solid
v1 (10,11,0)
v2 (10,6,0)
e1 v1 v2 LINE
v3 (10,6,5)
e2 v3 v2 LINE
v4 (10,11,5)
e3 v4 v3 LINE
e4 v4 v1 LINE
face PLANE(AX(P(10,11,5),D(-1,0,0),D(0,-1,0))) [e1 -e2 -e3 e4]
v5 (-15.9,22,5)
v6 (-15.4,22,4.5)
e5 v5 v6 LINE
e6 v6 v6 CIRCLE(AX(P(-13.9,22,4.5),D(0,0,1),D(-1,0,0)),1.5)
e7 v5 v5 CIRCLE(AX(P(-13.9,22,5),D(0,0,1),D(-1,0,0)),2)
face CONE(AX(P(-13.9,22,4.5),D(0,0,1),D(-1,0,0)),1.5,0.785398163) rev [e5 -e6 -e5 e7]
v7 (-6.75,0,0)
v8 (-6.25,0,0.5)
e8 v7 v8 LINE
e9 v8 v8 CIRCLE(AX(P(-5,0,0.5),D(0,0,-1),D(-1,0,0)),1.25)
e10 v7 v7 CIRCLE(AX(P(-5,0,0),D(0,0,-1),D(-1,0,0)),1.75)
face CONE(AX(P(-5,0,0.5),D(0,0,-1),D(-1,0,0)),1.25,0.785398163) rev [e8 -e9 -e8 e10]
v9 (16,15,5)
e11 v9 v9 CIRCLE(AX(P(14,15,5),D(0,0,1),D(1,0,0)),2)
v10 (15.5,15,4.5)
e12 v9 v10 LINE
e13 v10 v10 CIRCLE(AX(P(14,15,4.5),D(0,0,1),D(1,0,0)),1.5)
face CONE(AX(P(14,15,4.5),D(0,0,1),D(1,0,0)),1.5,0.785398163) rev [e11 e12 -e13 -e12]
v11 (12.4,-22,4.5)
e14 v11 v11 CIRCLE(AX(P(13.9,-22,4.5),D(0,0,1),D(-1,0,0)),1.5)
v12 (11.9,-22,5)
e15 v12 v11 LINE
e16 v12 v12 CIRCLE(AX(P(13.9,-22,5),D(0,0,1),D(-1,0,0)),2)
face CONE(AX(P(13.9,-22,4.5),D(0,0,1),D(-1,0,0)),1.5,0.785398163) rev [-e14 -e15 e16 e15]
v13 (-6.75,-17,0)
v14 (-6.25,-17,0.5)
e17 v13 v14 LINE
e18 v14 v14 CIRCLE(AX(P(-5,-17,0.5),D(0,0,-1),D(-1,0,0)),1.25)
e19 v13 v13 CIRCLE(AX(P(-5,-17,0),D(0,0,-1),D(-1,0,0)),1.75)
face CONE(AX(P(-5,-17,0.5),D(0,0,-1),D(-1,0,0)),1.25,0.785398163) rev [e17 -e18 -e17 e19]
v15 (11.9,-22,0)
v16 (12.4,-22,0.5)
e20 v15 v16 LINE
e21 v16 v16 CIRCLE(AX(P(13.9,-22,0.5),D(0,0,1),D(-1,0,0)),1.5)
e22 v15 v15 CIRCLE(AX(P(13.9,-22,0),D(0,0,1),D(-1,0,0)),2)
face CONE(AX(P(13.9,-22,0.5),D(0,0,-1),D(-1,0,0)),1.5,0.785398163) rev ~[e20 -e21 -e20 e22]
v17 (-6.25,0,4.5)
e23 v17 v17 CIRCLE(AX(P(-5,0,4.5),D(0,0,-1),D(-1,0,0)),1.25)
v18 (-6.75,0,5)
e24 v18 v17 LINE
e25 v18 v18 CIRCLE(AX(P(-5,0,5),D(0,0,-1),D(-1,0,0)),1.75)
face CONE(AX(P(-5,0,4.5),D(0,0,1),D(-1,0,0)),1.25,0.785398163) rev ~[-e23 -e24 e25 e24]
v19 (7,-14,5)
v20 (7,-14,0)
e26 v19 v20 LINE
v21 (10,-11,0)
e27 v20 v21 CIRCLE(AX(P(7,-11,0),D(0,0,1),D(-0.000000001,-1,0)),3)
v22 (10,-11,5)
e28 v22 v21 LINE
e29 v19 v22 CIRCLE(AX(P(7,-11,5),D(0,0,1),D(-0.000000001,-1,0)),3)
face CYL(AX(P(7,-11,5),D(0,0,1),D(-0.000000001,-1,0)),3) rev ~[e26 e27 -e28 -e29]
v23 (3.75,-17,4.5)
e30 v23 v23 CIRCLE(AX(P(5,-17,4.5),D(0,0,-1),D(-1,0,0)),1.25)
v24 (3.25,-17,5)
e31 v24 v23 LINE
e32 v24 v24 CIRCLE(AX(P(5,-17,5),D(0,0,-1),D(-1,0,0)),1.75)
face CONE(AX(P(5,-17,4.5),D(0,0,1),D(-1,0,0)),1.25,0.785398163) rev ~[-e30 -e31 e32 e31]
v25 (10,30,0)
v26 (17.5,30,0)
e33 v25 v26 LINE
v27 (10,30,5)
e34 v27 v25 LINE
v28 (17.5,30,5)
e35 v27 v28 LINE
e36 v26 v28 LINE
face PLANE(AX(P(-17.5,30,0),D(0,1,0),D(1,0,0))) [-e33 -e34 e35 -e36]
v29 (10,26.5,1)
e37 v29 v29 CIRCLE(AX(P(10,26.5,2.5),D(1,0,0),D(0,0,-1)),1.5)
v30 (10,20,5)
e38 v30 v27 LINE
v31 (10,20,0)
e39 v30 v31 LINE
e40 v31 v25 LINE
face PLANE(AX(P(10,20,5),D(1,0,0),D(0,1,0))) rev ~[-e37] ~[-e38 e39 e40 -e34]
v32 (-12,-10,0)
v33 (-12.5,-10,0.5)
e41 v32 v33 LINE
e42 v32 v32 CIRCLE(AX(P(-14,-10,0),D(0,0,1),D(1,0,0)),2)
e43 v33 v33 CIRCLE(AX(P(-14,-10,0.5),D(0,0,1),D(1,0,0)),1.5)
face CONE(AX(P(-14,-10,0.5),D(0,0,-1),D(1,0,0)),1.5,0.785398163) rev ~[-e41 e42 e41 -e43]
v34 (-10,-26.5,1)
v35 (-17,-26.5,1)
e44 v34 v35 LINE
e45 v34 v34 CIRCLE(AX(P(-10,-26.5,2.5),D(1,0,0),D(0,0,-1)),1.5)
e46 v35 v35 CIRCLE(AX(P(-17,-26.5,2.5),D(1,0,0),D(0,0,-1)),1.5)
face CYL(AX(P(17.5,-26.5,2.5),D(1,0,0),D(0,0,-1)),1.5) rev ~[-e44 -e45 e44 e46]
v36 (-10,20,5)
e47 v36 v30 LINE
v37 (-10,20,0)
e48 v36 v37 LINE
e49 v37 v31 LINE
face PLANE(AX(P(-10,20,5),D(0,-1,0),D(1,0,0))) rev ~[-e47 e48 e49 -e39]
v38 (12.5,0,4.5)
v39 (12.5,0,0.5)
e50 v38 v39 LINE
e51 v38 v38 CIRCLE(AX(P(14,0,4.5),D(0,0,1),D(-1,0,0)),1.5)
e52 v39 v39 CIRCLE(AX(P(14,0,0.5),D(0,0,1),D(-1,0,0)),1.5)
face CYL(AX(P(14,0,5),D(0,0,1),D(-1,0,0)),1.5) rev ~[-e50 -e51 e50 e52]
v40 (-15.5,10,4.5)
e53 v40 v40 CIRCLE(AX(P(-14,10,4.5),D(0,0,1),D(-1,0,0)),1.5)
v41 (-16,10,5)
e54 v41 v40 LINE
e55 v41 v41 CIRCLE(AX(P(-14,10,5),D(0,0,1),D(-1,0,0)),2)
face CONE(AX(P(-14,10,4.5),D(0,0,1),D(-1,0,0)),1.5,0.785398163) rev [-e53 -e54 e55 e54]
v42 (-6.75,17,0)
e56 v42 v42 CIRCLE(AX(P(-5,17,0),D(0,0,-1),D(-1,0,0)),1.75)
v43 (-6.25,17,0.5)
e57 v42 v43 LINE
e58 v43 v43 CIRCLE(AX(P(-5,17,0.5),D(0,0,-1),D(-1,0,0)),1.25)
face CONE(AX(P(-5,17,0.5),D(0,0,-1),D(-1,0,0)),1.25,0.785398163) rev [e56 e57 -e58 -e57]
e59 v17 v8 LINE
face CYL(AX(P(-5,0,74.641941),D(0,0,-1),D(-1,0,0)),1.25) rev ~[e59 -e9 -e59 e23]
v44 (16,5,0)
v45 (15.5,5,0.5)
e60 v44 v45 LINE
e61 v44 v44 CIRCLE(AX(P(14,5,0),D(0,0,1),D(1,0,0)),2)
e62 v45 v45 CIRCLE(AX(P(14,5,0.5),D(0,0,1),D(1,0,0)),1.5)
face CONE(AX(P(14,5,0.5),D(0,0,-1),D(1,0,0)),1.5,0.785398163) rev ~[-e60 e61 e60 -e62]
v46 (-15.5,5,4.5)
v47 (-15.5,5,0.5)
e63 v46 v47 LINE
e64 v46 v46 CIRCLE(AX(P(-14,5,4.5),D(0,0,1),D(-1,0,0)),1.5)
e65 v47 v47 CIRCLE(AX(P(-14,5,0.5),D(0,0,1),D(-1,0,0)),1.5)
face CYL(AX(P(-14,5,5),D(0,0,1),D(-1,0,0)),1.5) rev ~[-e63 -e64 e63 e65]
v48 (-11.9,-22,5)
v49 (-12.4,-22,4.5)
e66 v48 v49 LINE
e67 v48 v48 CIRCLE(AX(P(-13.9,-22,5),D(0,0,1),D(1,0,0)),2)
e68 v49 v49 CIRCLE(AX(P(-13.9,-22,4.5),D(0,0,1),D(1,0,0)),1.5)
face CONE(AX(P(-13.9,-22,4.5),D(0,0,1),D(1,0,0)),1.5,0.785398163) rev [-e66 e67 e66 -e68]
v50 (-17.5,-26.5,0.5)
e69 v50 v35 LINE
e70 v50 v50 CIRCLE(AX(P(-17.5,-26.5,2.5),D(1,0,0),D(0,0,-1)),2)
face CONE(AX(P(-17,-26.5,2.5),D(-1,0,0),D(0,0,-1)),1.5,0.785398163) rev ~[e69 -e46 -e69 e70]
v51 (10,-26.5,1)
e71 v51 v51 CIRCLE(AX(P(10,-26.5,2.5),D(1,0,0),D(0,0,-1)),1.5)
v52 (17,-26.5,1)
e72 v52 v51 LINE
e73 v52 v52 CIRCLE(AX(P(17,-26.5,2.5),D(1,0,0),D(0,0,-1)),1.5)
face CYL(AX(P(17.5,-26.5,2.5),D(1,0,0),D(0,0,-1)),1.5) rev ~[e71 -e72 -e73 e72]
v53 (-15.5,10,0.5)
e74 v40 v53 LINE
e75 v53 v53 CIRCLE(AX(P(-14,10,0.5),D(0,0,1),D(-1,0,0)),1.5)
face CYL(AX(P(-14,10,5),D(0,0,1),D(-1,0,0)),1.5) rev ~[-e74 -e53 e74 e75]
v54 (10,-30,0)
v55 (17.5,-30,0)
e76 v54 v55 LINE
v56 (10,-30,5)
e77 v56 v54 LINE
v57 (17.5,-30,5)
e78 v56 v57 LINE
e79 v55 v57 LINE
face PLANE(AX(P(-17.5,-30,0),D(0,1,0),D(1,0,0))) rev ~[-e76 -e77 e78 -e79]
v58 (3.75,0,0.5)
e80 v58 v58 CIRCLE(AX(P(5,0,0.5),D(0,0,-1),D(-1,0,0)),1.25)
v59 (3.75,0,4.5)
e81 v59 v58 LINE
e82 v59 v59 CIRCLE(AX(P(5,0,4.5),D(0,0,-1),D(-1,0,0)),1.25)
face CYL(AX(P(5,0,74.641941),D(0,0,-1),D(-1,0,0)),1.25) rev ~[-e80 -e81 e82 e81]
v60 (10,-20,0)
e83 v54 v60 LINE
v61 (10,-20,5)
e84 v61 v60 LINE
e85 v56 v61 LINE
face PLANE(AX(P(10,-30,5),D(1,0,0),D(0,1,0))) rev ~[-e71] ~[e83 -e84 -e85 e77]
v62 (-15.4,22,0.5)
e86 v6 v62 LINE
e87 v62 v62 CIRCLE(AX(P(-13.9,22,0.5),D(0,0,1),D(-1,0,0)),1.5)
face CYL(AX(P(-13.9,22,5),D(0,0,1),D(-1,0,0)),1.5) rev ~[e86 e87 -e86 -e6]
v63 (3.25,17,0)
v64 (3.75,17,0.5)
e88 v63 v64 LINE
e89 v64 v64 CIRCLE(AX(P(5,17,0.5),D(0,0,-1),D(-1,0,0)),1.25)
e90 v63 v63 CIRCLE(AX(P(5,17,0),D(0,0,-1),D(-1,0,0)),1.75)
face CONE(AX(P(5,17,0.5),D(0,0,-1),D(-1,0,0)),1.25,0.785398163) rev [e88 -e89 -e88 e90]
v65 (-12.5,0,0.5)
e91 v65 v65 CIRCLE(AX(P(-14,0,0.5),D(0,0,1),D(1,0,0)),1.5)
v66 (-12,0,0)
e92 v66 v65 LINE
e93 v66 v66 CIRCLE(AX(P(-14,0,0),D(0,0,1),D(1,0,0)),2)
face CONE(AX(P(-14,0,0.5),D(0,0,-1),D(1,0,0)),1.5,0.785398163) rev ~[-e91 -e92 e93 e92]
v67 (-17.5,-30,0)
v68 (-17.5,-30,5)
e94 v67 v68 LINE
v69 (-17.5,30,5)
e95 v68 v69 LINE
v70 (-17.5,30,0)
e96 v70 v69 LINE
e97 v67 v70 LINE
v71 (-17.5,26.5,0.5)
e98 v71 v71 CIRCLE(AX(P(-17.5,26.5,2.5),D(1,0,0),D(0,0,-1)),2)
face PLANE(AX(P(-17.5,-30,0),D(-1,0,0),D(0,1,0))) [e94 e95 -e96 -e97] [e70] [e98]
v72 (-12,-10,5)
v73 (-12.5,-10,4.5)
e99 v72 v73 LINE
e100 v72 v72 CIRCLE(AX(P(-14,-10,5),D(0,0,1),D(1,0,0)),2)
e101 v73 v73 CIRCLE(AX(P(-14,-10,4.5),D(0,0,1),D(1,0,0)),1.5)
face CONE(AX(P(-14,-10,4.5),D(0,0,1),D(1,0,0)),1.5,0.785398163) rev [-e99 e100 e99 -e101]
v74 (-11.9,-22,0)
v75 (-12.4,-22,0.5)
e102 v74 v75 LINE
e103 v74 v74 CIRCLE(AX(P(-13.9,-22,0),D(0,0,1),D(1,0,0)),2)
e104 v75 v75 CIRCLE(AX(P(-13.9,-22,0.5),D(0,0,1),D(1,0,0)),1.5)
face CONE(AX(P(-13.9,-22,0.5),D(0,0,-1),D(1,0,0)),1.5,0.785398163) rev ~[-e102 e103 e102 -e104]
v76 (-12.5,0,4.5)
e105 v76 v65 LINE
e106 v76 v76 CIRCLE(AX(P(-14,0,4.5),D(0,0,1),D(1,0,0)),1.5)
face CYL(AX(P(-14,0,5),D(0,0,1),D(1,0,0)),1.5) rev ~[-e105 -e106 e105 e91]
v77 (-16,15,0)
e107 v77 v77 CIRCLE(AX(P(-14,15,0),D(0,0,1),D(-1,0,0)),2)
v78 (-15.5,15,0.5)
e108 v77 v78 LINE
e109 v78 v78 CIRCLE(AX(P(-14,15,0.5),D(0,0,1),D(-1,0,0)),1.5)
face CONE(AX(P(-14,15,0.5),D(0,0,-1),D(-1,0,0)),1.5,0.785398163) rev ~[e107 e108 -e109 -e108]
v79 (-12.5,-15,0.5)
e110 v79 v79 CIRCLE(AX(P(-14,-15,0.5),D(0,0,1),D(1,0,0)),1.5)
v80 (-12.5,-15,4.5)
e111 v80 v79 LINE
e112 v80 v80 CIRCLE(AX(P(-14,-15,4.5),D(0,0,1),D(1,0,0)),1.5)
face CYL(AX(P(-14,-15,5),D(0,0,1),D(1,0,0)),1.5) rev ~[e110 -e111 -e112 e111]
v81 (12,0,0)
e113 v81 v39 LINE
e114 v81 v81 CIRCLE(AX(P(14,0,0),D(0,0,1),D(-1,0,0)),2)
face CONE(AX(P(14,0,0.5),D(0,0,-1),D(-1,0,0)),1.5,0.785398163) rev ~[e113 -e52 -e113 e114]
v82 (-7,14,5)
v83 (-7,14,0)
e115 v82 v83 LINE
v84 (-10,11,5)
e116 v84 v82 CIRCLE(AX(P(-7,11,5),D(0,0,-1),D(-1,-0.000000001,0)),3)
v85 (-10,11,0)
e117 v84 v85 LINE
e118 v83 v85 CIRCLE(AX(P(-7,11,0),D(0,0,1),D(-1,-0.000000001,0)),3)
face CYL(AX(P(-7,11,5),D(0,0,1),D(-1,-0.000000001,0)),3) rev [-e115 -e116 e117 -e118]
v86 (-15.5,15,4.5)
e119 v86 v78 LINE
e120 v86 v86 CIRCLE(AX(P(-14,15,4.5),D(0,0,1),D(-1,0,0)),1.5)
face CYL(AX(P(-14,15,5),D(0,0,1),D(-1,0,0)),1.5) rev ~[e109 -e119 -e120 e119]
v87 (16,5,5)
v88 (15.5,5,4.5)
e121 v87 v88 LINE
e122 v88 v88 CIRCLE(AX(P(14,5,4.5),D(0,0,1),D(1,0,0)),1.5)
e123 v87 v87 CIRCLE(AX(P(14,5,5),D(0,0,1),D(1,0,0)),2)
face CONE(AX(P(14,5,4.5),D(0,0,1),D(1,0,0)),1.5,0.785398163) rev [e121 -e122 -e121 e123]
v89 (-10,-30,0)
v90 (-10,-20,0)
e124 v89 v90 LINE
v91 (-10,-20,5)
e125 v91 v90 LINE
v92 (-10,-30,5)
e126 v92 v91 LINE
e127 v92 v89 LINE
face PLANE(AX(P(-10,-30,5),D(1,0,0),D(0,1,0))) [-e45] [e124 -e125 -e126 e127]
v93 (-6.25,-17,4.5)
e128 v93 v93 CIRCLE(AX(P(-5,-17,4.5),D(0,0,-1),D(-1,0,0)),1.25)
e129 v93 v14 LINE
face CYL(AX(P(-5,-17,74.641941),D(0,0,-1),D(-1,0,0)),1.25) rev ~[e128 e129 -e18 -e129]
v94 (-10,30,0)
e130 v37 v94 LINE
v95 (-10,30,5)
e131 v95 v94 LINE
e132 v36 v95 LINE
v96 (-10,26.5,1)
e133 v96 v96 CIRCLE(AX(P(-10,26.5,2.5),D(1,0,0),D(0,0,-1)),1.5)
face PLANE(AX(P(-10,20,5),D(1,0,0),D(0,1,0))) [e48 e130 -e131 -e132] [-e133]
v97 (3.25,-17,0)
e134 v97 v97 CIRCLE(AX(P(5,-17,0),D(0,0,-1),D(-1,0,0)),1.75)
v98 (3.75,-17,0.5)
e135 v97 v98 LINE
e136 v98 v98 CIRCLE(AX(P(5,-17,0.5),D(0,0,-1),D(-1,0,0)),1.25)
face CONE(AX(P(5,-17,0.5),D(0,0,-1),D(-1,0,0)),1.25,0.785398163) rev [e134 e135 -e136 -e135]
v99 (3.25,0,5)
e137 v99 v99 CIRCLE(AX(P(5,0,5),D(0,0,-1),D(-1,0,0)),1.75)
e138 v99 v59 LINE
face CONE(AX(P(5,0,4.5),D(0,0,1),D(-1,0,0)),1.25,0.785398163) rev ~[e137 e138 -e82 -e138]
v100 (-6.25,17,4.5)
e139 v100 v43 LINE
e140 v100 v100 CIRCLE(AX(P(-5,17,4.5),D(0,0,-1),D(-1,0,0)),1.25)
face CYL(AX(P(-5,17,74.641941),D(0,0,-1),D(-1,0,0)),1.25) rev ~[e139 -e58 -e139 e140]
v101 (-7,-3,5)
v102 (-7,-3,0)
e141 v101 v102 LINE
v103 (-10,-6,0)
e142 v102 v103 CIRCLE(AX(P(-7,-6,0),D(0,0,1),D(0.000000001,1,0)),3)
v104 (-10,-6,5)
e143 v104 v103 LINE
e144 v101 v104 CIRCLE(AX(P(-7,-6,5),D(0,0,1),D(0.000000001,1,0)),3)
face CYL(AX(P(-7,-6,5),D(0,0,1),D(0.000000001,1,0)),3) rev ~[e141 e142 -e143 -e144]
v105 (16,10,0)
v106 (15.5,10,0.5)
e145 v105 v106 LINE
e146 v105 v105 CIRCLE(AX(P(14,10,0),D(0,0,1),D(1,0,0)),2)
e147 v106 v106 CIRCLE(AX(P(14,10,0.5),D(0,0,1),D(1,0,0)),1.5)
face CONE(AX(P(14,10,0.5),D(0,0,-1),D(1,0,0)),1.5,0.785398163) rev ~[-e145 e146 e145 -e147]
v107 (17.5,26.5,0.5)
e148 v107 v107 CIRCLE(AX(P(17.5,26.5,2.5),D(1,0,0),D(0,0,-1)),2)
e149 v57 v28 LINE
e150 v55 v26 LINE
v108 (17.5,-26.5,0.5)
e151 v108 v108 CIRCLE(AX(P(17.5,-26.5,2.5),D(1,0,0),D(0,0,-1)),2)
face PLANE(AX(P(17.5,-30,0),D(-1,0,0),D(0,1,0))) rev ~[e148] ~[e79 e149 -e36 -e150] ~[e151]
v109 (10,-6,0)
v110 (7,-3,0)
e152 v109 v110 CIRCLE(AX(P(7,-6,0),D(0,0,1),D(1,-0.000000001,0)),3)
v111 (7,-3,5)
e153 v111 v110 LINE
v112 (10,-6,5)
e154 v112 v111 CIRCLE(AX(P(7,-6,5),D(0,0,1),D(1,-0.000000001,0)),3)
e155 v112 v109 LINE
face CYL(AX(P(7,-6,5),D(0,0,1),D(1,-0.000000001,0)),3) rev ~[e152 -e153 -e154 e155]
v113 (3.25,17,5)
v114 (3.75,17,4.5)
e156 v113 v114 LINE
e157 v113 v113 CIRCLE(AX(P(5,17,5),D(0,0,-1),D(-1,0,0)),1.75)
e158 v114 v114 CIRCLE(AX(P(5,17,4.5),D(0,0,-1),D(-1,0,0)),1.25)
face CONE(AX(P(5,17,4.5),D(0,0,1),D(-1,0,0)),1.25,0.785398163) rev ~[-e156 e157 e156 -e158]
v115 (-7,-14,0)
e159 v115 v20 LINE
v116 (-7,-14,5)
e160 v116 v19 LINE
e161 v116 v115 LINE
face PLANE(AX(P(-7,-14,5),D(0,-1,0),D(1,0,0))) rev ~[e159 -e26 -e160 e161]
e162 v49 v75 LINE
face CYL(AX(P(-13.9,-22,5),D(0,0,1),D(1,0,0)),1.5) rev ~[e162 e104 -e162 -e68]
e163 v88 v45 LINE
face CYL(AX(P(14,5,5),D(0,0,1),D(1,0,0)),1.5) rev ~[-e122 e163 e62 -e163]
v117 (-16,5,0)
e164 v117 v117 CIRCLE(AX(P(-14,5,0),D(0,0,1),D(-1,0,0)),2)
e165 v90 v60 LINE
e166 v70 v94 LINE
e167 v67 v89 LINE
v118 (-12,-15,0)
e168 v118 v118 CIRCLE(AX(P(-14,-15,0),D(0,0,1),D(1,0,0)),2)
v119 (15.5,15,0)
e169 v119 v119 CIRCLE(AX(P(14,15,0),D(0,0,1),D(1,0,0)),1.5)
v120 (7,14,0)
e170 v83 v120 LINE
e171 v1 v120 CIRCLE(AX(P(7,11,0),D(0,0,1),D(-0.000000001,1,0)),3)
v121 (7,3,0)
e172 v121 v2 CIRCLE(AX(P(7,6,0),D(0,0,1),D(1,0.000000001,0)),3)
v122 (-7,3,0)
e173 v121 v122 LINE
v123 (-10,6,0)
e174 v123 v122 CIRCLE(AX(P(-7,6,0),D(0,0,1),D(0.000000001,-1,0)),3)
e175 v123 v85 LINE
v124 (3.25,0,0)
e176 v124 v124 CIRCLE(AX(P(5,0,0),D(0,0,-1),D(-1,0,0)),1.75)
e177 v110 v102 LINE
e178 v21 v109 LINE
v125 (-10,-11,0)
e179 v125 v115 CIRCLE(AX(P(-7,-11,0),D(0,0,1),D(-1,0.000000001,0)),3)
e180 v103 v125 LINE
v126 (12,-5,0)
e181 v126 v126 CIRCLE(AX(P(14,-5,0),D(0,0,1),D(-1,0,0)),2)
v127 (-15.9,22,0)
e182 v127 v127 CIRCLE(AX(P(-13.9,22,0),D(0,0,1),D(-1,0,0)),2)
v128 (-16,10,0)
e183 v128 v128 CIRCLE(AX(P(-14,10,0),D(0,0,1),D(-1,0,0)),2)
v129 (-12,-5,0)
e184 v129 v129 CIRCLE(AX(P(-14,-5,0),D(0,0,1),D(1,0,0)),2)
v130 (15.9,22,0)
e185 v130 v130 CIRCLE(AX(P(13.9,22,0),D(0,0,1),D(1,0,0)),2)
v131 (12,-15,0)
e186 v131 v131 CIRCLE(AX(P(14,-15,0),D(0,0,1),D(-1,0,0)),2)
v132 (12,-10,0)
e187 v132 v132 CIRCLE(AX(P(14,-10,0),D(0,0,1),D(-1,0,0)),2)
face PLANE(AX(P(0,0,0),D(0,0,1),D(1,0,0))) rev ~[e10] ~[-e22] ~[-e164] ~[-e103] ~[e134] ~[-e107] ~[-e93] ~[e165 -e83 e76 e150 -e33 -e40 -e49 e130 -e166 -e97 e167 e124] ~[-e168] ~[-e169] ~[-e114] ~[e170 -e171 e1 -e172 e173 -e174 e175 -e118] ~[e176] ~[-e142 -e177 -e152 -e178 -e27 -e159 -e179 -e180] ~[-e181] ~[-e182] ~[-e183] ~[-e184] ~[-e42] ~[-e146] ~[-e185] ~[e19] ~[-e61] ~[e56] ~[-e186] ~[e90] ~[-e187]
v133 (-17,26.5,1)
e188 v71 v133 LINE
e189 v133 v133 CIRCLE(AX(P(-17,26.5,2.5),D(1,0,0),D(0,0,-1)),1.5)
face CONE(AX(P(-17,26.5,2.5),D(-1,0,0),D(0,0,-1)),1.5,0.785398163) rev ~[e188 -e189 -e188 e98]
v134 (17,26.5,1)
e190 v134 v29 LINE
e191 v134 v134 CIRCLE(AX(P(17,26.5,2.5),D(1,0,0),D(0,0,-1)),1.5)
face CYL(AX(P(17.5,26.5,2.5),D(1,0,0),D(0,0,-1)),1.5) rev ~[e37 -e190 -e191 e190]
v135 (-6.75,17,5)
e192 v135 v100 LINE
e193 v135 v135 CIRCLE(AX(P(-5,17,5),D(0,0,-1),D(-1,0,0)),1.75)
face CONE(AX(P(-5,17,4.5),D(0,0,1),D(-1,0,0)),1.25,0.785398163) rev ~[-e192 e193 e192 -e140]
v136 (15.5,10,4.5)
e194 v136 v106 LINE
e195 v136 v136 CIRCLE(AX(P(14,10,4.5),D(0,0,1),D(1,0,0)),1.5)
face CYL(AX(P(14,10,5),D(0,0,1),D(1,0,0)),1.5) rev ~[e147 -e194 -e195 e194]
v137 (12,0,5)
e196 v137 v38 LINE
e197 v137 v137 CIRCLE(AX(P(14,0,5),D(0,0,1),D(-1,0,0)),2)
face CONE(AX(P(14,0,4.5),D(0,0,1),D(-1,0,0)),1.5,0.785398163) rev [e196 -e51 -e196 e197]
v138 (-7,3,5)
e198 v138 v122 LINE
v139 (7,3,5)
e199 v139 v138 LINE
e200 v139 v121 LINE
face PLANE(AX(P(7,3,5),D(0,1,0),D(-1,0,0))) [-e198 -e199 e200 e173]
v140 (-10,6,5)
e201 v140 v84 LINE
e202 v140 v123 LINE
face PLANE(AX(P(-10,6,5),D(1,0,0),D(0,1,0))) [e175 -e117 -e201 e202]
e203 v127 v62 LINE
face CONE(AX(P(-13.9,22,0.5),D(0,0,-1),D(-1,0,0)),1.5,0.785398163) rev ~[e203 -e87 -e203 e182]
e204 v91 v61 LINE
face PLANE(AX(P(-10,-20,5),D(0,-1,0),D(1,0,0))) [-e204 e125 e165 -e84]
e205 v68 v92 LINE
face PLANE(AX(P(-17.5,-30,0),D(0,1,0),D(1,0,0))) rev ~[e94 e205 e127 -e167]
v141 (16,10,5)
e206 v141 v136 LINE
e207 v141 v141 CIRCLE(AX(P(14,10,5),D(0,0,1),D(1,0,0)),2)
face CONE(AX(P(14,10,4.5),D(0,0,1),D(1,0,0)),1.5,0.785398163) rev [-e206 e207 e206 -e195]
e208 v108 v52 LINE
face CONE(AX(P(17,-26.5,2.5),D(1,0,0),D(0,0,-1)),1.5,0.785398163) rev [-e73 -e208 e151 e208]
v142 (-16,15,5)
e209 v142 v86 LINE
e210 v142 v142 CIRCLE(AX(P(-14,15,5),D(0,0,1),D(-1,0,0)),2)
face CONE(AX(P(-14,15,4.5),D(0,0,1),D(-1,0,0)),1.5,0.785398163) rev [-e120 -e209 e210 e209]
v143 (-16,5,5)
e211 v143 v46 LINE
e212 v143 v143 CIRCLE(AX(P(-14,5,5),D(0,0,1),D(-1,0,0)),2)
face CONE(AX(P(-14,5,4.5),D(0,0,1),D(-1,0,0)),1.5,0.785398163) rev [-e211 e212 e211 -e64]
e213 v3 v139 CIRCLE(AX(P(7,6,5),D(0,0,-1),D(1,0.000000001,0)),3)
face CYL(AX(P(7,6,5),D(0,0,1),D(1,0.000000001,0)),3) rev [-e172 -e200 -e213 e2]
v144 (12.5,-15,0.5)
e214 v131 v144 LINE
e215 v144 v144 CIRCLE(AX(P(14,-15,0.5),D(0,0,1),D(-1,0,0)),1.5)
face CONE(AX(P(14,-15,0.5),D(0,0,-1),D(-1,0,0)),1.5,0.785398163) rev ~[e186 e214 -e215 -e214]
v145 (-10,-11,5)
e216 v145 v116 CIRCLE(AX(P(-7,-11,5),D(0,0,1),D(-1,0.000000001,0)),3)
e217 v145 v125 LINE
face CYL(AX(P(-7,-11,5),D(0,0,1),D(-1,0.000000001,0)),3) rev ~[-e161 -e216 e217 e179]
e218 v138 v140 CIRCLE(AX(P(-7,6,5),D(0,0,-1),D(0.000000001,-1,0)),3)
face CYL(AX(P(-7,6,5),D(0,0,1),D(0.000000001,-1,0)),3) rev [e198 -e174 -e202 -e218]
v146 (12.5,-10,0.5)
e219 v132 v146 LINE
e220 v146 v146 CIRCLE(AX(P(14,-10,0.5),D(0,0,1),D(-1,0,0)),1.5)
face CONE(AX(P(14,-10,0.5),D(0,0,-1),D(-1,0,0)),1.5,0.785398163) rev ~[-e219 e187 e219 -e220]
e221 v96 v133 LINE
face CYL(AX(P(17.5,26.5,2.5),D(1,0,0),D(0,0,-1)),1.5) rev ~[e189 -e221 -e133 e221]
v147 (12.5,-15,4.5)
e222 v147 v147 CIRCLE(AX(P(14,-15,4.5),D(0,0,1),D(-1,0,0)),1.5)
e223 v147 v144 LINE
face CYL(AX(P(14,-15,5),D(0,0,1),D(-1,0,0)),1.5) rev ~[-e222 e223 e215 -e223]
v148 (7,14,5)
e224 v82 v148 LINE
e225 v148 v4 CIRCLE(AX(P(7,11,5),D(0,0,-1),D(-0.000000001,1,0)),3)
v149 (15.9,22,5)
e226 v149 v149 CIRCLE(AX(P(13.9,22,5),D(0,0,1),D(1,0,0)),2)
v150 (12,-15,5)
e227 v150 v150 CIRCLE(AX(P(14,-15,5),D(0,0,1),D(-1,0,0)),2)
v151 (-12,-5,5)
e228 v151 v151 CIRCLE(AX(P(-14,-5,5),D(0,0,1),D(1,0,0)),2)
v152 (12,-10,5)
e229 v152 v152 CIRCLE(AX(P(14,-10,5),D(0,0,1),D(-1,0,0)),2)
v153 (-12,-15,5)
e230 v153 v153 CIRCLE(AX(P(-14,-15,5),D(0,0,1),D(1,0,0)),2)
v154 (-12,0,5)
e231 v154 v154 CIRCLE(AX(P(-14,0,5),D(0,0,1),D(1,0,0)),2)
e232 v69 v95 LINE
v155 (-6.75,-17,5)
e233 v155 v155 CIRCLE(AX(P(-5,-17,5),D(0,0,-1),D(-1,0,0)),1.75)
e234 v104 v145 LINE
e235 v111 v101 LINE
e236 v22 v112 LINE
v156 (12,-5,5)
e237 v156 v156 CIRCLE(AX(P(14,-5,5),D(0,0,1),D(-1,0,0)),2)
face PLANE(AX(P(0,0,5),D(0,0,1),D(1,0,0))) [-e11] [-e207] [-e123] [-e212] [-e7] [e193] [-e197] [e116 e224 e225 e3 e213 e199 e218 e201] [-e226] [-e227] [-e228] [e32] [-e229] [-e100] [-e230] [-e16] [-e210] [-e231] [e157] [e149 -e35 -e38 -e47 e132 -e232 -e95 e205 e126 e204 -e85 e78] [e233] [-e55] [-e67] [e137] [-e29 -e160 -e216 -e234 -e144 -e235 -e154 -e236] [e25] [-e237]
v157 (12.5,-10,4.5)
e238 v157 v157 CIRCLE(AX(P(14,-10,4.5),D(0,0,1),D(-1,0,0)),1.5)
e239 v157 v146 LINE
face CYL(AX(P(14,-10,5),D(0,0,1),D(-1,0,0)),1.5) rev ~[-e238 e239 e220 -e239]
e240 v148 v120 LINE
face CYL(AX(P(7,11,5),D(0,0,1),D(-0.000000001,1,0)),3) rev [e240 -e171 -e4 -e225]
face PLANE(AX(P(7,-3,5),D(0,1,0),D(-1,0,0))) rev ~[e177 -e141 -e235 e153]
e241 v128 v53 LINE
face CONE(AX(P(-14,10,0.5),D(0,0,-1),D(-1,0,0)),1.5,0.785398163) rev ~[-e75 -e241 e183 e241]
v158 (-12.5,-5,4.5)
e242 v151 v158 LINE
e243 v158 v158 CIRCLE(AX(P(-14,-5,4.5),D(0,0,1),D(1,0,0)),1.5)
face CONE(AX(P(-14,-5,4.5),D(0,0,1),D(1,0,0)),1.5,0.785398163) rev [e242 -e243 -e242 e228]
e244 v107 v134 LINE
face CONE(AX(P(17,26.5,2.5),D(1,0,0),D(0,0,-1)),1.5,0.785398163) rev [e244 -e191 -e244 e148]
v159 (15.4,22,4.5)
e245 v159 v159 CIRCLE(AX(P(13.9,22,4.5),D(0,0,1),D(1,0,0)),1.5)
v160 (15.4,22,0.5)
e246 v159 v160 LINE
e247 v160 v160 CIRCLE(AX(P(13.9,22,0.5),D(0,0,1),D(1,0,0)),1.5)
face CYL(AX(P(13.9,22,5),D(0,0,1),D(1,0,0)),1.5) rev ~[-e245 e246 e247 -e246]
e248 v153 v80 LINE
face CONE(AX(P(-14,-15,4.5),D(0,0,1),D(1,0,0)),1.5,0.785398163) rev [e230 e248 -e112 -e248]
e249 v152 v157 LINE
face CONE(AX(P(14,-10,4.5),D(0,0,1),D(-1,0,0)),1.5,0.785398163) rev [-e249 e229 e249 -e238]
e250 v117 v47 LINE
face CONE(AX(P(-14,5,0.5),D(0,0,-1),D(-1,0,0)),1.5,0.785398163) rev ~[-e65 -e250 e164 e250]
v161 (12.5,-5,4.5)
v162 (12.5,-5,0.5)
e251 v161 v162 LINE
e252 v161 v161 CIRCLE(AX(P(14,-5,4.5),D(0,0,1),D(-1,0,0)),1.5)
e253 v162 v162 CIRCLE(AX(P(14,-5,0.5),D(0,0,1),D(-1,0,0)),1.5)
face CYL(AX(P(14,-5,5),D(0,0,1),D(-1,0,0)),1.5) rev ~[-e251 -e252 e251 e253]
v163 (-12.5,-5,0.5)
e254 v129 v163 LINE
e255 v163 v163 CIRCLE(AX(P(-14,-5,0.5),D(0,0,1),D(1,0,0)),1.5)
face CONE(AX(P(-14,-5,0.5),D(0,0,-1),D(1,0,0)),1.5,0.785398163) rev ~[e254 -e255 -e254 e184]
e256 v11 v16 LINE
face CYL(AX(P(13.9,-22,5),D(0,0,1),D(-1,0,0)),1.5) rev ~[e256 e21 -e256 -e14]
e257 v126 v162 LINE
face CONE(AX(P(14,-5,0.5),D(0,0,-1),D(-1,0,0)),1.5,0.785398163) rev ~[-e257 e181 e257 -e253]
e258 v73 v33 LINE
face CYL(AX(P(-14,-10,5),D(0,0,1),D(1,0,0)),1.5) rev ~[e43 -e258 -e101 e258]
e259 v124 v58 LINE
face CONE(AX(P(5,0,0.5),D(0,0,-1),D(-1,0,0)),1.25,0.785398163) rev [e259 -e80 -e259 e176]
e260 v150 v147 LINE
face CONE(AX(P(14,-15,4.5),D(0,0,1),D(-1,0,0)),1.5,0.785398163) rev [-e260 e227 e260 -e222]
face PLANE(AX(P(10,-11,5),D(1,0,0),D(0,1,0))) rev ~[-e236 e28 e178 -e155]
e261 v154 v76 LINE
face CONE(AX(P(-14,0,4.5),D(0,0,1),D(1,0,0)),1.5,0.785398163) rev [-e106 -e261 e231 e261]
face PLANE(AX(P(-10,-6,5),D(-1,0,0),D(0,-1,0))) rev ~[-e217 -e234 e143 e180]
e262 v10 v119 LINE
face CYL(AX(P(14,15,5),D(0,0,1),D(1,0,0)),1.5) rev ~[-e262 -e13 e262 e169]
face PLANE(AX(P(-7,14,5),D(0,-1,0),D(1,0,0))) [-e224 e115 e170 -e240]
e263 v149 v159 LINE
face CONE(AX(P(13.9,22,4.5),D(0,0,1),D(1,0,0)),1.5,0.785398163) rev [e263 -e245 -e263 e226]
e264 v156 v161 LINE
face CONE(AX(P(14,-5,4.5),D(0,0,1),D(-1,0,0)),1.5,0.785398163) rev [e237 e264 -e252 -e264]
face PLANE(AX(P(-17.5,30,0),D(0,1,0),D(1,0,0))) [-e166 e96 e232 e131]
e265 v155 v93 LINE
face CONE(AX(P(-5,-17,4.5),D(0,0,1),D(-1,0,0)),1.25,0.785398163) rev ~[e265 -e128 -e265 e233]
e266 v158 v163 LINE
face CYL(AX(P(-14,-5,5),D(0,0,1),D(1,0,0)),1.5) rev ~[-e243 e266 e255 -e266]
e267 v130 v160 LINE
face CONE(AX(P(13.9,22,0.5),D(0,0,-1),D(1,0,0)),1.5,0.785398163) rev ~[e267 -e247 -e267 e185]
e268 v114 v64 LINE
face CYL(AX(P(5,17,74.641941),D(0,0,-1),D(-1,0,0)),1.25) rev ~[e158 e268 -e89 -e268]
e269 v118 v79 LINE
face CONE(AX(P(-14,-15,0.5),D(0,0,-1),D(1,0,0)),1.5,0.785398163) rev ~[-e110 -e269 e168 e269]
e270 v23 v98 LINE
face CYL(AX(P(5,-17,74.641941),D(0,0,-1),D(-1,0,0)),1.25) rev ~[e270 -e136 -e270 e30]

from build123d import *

# Parameters (mm, degrees)
SKETCH_1_W          = 35
SKETCH_1_H          = 60
EXTRUDE_1_DEPTH     = 5
SKETCH_2_R          = 1.5
SKETCH_2_R_2        = 0.5
SKETCH_2_W          = 20
SKETCH_2_H          = 10
CUT_EXTRUDE_1_DEPTH = 36.089172119
SKETCH_3_R          = 1.5
CUT_EXTRUDE_2_DEPTH = 47.368092477
HOLE_WIZARD_M3_1_D  = 2.5
CHAMFER_1_SIZE      = 0.5


with BuildPart() as part:
    # 草图1 → 凸台-拉伸1 (new body)
    with BuildSketch(Plane.XY):
        Rectangle(SKETCH_1_W, SKETCH_1_H)
    extrude(amount=EXTRUDE_1_DEPTH)

    # 草图2 → 切除-拉伸1 (cut, through all)
    with BuildSketch(Plane.XY.offset(5)):
        with Locations((-14, 0)):
            Circle(SKETCH_2_R)
        with Locations((-14, -15)):
            Circle(SKETCH_2_R)
        with Locations(Location((14, -15, 0), (0, 0, 180))):
            Circle(SKETCH_2_R)
        with Locations(Location((14, 0, 0), (0, 0, 180))):
            Circle(SKETCH_2_R)
        with Locations((-14, -10)):
            Circle(SKETCH_2_R)
        with Locations((-13.9, -22)):
            Circle(SKETCH_2_R)
        with Locations(Location((13.9, -22, 0), (0, 0, 180))):
            Circle(SKETCH_2_R)
        with Locations(Location((14, -10, 0), (0, 0, 180))):
            Circle(SKETCH_2_R)
        with Locations(Location((-13.9, 22, 0), (0, 0, 180))):
            Circle(SKETCH_2_R)
        with Locations((13.9, 22)):
            Circle(SKETCH_2_R)
        with Locations((14, 10)):
            Circle(SKETCH_2_R)
        with Locations(Location((-14, 10, 0), (0, 0, 180))):
            Circle(SKETCH_2_R)
        with Locations((14, 15)):
            Circle(SKETCH_2_R)
        with Locations(Location((-14, 15, 0), (0, 0, 180))):
            Circle(SKETCH_2_R)
        with Locations((-5, 0)):
            Circle(SKETCH_2_R_2)
        with Locations((5, 0)):
            Circle(SKETCH_2_R_2)
        with Locations((-14, -5)):
            Circle(SKETCH_2_R)
        with Locations(Location((14, -5, 0), (0, 0, 180))):
            Circle(SKETCH_2_R)
        with Locations((14, 5)):
            Circle(SKETCH_2_R)
        with Locations(Location((-14, 5, 0), (0, 0, 180))):
            Circle(SKETCH_2_R)
        with Locations((-5, 17)):
            Circle(SKETCH_2_R_2)
        with Locations((5, 17)):
            Circle(SKETCH_2_R_2)
        with Locations(Location((5, -17, 0), (0, 0, 180))):
            Circle(SKETCH_2_R_2)
        with Locations(Location((-5, -17, 0), (0, 0, 180))):
            Circle(SKETCH_2_R_2)
        with Locations((0, 25)):
            Rectangle(SKETCH_2_W, SKETCH_2_H)
        with Locations((0, -25)):
            Rectangle(SKETCH_2_W, SKETCH_2_H)
        with BuildLine():
            Line((10, 11), (10, 6))
            ThreePointArc((10, 6), (9.121320344, 3.878679656), (7, 3))
            Line((7, 3), (-7, 3))
            ThreePointArc((-7, 3), (-9.121320344, 3.878679656), (-10, 6))
            Line((-10, 6), (-10, 11))
            ThreePointArc((-10, 11), (-9.121320344, 13.121320344), (-7, 14))
            Line((-7, 14), (7, 14))
            ThreePointArc((7, 14), (9.121320344, 13.121320344), (10, 11))
        make_face()
        with BuildLine():
            Line((-7, -14), (7, -14))
            ThreePointArc((7, -14), (9.121320344, -13.121320344), (10, -11))
            Line((10, -11), (10, -6))
            ThreePointArc((10, -6), (9.121320344, -3.878679656), (7, -3))
            Line((7, -3), (-7, -3))
            ThreePointArc((-7, -3), (-9.121320344, -3.878679656), (-10, -6))
            Line((-10, -6), (-10, -11))
            ThreePointArc((-10, -11), (-9.121320344, -13.121320344), (-7, -14))
        make_face()
    extrude(amount=-CUT_EXTRUDE_1_DEPTH, mode=Mode.SUBTRACT)

    # 草图3 → 切除-拉伸2 (cut, through all)
    with BuildSketch(Plane(origin=(17.5, 0, 0), x_dir=(0, 0, -1), z_dir=(1, 0, 0))):
        with Locations((-2.5, -26.5)):
            Circle(SKETCH_3_R)
        with Locations((-2.5, 26.5)):
            Circle(SKETCH_3_R)
    extrude(amount=-CUT_EXTRUDE_2_DEPTH, mode=Mode.SUBTRACT)

    # M3 螺纹孔1 (through all)
    with Locations(Plane.XY.offset(5)):
        with Locations((-5, 17), (5, 17), (-5, 0), (5, 0), (-5, -17), (5, -17)):
            Hole(HOLE_WIZARD_M3_1_D / 2)

    # 倒角1
    chamfer_1_edges = [part.edges().sort_by_distance(p)[0] for p in [
        (-15.5, -5, 0),
        (-15.5, -5, 5),
        (15.5, -5, 0),
        (15.5, -5, 5),
        (12.5, 5, 0),
        (12.5, 5, 5),
        (-12.5, 5, 0),
        (-12.5, 5, 5),
        (-17.5, -26.5, 4),
        (17.5, -26.5, 4),
        (-17.5, 26.5, 4),
        (17.5, 26.5, 4),
        (6.25, -17, 5),
        (6.25, -17, 0),
        (-3.75, -17, 5),
        (-3.75, -17, 0),
        (6.25, 0, 5),
        (6.25, 0, 0),
        (-3.75, 0, 5),
        (-3.75, 0, 0),
        (6.25, 17, 5),
        (6.25, 17, 0),
        (-3.75, 17, 5),
        (-3.75, 17, 0),
        (-15.5, 0, 0),
        (-15.5, 0, 5),
        (-15.5, -15, 0),
        (-15.5, -15, 5),
        (15.5, -15, 0),
        (15.5, -15, 5),
        (15.5, 0, 0),
        (15.5, 0, 5),
        (-15.5, -10, 0),
        (-15.5, -10, 5),
        (-15.4, -22, 0),
        (-15.4, -22, 5),
        (15.4, -22, 0),
        (15.4, -22, 5),
        (15.5, -10, 0),
        (15.5, -10, 5),
        (-12.4, 22, 0),
        (-12.4, 22, 5),
        (12.4, 22, 0),
        (12.4, 22, 5),
        (12.5, 10, 0),
        (12.5, 10, 5),
        (-12.5, 10, 0),
        (-12.5, 10, 5),
        (12.5, 15, 5),
        (-12.5, 15, 0),
        (-12.5, 15, 5),
    ]]
    chamfer(chamfer_1_edges, length=CHAMFER_1_SIZE)


solid = part.part
